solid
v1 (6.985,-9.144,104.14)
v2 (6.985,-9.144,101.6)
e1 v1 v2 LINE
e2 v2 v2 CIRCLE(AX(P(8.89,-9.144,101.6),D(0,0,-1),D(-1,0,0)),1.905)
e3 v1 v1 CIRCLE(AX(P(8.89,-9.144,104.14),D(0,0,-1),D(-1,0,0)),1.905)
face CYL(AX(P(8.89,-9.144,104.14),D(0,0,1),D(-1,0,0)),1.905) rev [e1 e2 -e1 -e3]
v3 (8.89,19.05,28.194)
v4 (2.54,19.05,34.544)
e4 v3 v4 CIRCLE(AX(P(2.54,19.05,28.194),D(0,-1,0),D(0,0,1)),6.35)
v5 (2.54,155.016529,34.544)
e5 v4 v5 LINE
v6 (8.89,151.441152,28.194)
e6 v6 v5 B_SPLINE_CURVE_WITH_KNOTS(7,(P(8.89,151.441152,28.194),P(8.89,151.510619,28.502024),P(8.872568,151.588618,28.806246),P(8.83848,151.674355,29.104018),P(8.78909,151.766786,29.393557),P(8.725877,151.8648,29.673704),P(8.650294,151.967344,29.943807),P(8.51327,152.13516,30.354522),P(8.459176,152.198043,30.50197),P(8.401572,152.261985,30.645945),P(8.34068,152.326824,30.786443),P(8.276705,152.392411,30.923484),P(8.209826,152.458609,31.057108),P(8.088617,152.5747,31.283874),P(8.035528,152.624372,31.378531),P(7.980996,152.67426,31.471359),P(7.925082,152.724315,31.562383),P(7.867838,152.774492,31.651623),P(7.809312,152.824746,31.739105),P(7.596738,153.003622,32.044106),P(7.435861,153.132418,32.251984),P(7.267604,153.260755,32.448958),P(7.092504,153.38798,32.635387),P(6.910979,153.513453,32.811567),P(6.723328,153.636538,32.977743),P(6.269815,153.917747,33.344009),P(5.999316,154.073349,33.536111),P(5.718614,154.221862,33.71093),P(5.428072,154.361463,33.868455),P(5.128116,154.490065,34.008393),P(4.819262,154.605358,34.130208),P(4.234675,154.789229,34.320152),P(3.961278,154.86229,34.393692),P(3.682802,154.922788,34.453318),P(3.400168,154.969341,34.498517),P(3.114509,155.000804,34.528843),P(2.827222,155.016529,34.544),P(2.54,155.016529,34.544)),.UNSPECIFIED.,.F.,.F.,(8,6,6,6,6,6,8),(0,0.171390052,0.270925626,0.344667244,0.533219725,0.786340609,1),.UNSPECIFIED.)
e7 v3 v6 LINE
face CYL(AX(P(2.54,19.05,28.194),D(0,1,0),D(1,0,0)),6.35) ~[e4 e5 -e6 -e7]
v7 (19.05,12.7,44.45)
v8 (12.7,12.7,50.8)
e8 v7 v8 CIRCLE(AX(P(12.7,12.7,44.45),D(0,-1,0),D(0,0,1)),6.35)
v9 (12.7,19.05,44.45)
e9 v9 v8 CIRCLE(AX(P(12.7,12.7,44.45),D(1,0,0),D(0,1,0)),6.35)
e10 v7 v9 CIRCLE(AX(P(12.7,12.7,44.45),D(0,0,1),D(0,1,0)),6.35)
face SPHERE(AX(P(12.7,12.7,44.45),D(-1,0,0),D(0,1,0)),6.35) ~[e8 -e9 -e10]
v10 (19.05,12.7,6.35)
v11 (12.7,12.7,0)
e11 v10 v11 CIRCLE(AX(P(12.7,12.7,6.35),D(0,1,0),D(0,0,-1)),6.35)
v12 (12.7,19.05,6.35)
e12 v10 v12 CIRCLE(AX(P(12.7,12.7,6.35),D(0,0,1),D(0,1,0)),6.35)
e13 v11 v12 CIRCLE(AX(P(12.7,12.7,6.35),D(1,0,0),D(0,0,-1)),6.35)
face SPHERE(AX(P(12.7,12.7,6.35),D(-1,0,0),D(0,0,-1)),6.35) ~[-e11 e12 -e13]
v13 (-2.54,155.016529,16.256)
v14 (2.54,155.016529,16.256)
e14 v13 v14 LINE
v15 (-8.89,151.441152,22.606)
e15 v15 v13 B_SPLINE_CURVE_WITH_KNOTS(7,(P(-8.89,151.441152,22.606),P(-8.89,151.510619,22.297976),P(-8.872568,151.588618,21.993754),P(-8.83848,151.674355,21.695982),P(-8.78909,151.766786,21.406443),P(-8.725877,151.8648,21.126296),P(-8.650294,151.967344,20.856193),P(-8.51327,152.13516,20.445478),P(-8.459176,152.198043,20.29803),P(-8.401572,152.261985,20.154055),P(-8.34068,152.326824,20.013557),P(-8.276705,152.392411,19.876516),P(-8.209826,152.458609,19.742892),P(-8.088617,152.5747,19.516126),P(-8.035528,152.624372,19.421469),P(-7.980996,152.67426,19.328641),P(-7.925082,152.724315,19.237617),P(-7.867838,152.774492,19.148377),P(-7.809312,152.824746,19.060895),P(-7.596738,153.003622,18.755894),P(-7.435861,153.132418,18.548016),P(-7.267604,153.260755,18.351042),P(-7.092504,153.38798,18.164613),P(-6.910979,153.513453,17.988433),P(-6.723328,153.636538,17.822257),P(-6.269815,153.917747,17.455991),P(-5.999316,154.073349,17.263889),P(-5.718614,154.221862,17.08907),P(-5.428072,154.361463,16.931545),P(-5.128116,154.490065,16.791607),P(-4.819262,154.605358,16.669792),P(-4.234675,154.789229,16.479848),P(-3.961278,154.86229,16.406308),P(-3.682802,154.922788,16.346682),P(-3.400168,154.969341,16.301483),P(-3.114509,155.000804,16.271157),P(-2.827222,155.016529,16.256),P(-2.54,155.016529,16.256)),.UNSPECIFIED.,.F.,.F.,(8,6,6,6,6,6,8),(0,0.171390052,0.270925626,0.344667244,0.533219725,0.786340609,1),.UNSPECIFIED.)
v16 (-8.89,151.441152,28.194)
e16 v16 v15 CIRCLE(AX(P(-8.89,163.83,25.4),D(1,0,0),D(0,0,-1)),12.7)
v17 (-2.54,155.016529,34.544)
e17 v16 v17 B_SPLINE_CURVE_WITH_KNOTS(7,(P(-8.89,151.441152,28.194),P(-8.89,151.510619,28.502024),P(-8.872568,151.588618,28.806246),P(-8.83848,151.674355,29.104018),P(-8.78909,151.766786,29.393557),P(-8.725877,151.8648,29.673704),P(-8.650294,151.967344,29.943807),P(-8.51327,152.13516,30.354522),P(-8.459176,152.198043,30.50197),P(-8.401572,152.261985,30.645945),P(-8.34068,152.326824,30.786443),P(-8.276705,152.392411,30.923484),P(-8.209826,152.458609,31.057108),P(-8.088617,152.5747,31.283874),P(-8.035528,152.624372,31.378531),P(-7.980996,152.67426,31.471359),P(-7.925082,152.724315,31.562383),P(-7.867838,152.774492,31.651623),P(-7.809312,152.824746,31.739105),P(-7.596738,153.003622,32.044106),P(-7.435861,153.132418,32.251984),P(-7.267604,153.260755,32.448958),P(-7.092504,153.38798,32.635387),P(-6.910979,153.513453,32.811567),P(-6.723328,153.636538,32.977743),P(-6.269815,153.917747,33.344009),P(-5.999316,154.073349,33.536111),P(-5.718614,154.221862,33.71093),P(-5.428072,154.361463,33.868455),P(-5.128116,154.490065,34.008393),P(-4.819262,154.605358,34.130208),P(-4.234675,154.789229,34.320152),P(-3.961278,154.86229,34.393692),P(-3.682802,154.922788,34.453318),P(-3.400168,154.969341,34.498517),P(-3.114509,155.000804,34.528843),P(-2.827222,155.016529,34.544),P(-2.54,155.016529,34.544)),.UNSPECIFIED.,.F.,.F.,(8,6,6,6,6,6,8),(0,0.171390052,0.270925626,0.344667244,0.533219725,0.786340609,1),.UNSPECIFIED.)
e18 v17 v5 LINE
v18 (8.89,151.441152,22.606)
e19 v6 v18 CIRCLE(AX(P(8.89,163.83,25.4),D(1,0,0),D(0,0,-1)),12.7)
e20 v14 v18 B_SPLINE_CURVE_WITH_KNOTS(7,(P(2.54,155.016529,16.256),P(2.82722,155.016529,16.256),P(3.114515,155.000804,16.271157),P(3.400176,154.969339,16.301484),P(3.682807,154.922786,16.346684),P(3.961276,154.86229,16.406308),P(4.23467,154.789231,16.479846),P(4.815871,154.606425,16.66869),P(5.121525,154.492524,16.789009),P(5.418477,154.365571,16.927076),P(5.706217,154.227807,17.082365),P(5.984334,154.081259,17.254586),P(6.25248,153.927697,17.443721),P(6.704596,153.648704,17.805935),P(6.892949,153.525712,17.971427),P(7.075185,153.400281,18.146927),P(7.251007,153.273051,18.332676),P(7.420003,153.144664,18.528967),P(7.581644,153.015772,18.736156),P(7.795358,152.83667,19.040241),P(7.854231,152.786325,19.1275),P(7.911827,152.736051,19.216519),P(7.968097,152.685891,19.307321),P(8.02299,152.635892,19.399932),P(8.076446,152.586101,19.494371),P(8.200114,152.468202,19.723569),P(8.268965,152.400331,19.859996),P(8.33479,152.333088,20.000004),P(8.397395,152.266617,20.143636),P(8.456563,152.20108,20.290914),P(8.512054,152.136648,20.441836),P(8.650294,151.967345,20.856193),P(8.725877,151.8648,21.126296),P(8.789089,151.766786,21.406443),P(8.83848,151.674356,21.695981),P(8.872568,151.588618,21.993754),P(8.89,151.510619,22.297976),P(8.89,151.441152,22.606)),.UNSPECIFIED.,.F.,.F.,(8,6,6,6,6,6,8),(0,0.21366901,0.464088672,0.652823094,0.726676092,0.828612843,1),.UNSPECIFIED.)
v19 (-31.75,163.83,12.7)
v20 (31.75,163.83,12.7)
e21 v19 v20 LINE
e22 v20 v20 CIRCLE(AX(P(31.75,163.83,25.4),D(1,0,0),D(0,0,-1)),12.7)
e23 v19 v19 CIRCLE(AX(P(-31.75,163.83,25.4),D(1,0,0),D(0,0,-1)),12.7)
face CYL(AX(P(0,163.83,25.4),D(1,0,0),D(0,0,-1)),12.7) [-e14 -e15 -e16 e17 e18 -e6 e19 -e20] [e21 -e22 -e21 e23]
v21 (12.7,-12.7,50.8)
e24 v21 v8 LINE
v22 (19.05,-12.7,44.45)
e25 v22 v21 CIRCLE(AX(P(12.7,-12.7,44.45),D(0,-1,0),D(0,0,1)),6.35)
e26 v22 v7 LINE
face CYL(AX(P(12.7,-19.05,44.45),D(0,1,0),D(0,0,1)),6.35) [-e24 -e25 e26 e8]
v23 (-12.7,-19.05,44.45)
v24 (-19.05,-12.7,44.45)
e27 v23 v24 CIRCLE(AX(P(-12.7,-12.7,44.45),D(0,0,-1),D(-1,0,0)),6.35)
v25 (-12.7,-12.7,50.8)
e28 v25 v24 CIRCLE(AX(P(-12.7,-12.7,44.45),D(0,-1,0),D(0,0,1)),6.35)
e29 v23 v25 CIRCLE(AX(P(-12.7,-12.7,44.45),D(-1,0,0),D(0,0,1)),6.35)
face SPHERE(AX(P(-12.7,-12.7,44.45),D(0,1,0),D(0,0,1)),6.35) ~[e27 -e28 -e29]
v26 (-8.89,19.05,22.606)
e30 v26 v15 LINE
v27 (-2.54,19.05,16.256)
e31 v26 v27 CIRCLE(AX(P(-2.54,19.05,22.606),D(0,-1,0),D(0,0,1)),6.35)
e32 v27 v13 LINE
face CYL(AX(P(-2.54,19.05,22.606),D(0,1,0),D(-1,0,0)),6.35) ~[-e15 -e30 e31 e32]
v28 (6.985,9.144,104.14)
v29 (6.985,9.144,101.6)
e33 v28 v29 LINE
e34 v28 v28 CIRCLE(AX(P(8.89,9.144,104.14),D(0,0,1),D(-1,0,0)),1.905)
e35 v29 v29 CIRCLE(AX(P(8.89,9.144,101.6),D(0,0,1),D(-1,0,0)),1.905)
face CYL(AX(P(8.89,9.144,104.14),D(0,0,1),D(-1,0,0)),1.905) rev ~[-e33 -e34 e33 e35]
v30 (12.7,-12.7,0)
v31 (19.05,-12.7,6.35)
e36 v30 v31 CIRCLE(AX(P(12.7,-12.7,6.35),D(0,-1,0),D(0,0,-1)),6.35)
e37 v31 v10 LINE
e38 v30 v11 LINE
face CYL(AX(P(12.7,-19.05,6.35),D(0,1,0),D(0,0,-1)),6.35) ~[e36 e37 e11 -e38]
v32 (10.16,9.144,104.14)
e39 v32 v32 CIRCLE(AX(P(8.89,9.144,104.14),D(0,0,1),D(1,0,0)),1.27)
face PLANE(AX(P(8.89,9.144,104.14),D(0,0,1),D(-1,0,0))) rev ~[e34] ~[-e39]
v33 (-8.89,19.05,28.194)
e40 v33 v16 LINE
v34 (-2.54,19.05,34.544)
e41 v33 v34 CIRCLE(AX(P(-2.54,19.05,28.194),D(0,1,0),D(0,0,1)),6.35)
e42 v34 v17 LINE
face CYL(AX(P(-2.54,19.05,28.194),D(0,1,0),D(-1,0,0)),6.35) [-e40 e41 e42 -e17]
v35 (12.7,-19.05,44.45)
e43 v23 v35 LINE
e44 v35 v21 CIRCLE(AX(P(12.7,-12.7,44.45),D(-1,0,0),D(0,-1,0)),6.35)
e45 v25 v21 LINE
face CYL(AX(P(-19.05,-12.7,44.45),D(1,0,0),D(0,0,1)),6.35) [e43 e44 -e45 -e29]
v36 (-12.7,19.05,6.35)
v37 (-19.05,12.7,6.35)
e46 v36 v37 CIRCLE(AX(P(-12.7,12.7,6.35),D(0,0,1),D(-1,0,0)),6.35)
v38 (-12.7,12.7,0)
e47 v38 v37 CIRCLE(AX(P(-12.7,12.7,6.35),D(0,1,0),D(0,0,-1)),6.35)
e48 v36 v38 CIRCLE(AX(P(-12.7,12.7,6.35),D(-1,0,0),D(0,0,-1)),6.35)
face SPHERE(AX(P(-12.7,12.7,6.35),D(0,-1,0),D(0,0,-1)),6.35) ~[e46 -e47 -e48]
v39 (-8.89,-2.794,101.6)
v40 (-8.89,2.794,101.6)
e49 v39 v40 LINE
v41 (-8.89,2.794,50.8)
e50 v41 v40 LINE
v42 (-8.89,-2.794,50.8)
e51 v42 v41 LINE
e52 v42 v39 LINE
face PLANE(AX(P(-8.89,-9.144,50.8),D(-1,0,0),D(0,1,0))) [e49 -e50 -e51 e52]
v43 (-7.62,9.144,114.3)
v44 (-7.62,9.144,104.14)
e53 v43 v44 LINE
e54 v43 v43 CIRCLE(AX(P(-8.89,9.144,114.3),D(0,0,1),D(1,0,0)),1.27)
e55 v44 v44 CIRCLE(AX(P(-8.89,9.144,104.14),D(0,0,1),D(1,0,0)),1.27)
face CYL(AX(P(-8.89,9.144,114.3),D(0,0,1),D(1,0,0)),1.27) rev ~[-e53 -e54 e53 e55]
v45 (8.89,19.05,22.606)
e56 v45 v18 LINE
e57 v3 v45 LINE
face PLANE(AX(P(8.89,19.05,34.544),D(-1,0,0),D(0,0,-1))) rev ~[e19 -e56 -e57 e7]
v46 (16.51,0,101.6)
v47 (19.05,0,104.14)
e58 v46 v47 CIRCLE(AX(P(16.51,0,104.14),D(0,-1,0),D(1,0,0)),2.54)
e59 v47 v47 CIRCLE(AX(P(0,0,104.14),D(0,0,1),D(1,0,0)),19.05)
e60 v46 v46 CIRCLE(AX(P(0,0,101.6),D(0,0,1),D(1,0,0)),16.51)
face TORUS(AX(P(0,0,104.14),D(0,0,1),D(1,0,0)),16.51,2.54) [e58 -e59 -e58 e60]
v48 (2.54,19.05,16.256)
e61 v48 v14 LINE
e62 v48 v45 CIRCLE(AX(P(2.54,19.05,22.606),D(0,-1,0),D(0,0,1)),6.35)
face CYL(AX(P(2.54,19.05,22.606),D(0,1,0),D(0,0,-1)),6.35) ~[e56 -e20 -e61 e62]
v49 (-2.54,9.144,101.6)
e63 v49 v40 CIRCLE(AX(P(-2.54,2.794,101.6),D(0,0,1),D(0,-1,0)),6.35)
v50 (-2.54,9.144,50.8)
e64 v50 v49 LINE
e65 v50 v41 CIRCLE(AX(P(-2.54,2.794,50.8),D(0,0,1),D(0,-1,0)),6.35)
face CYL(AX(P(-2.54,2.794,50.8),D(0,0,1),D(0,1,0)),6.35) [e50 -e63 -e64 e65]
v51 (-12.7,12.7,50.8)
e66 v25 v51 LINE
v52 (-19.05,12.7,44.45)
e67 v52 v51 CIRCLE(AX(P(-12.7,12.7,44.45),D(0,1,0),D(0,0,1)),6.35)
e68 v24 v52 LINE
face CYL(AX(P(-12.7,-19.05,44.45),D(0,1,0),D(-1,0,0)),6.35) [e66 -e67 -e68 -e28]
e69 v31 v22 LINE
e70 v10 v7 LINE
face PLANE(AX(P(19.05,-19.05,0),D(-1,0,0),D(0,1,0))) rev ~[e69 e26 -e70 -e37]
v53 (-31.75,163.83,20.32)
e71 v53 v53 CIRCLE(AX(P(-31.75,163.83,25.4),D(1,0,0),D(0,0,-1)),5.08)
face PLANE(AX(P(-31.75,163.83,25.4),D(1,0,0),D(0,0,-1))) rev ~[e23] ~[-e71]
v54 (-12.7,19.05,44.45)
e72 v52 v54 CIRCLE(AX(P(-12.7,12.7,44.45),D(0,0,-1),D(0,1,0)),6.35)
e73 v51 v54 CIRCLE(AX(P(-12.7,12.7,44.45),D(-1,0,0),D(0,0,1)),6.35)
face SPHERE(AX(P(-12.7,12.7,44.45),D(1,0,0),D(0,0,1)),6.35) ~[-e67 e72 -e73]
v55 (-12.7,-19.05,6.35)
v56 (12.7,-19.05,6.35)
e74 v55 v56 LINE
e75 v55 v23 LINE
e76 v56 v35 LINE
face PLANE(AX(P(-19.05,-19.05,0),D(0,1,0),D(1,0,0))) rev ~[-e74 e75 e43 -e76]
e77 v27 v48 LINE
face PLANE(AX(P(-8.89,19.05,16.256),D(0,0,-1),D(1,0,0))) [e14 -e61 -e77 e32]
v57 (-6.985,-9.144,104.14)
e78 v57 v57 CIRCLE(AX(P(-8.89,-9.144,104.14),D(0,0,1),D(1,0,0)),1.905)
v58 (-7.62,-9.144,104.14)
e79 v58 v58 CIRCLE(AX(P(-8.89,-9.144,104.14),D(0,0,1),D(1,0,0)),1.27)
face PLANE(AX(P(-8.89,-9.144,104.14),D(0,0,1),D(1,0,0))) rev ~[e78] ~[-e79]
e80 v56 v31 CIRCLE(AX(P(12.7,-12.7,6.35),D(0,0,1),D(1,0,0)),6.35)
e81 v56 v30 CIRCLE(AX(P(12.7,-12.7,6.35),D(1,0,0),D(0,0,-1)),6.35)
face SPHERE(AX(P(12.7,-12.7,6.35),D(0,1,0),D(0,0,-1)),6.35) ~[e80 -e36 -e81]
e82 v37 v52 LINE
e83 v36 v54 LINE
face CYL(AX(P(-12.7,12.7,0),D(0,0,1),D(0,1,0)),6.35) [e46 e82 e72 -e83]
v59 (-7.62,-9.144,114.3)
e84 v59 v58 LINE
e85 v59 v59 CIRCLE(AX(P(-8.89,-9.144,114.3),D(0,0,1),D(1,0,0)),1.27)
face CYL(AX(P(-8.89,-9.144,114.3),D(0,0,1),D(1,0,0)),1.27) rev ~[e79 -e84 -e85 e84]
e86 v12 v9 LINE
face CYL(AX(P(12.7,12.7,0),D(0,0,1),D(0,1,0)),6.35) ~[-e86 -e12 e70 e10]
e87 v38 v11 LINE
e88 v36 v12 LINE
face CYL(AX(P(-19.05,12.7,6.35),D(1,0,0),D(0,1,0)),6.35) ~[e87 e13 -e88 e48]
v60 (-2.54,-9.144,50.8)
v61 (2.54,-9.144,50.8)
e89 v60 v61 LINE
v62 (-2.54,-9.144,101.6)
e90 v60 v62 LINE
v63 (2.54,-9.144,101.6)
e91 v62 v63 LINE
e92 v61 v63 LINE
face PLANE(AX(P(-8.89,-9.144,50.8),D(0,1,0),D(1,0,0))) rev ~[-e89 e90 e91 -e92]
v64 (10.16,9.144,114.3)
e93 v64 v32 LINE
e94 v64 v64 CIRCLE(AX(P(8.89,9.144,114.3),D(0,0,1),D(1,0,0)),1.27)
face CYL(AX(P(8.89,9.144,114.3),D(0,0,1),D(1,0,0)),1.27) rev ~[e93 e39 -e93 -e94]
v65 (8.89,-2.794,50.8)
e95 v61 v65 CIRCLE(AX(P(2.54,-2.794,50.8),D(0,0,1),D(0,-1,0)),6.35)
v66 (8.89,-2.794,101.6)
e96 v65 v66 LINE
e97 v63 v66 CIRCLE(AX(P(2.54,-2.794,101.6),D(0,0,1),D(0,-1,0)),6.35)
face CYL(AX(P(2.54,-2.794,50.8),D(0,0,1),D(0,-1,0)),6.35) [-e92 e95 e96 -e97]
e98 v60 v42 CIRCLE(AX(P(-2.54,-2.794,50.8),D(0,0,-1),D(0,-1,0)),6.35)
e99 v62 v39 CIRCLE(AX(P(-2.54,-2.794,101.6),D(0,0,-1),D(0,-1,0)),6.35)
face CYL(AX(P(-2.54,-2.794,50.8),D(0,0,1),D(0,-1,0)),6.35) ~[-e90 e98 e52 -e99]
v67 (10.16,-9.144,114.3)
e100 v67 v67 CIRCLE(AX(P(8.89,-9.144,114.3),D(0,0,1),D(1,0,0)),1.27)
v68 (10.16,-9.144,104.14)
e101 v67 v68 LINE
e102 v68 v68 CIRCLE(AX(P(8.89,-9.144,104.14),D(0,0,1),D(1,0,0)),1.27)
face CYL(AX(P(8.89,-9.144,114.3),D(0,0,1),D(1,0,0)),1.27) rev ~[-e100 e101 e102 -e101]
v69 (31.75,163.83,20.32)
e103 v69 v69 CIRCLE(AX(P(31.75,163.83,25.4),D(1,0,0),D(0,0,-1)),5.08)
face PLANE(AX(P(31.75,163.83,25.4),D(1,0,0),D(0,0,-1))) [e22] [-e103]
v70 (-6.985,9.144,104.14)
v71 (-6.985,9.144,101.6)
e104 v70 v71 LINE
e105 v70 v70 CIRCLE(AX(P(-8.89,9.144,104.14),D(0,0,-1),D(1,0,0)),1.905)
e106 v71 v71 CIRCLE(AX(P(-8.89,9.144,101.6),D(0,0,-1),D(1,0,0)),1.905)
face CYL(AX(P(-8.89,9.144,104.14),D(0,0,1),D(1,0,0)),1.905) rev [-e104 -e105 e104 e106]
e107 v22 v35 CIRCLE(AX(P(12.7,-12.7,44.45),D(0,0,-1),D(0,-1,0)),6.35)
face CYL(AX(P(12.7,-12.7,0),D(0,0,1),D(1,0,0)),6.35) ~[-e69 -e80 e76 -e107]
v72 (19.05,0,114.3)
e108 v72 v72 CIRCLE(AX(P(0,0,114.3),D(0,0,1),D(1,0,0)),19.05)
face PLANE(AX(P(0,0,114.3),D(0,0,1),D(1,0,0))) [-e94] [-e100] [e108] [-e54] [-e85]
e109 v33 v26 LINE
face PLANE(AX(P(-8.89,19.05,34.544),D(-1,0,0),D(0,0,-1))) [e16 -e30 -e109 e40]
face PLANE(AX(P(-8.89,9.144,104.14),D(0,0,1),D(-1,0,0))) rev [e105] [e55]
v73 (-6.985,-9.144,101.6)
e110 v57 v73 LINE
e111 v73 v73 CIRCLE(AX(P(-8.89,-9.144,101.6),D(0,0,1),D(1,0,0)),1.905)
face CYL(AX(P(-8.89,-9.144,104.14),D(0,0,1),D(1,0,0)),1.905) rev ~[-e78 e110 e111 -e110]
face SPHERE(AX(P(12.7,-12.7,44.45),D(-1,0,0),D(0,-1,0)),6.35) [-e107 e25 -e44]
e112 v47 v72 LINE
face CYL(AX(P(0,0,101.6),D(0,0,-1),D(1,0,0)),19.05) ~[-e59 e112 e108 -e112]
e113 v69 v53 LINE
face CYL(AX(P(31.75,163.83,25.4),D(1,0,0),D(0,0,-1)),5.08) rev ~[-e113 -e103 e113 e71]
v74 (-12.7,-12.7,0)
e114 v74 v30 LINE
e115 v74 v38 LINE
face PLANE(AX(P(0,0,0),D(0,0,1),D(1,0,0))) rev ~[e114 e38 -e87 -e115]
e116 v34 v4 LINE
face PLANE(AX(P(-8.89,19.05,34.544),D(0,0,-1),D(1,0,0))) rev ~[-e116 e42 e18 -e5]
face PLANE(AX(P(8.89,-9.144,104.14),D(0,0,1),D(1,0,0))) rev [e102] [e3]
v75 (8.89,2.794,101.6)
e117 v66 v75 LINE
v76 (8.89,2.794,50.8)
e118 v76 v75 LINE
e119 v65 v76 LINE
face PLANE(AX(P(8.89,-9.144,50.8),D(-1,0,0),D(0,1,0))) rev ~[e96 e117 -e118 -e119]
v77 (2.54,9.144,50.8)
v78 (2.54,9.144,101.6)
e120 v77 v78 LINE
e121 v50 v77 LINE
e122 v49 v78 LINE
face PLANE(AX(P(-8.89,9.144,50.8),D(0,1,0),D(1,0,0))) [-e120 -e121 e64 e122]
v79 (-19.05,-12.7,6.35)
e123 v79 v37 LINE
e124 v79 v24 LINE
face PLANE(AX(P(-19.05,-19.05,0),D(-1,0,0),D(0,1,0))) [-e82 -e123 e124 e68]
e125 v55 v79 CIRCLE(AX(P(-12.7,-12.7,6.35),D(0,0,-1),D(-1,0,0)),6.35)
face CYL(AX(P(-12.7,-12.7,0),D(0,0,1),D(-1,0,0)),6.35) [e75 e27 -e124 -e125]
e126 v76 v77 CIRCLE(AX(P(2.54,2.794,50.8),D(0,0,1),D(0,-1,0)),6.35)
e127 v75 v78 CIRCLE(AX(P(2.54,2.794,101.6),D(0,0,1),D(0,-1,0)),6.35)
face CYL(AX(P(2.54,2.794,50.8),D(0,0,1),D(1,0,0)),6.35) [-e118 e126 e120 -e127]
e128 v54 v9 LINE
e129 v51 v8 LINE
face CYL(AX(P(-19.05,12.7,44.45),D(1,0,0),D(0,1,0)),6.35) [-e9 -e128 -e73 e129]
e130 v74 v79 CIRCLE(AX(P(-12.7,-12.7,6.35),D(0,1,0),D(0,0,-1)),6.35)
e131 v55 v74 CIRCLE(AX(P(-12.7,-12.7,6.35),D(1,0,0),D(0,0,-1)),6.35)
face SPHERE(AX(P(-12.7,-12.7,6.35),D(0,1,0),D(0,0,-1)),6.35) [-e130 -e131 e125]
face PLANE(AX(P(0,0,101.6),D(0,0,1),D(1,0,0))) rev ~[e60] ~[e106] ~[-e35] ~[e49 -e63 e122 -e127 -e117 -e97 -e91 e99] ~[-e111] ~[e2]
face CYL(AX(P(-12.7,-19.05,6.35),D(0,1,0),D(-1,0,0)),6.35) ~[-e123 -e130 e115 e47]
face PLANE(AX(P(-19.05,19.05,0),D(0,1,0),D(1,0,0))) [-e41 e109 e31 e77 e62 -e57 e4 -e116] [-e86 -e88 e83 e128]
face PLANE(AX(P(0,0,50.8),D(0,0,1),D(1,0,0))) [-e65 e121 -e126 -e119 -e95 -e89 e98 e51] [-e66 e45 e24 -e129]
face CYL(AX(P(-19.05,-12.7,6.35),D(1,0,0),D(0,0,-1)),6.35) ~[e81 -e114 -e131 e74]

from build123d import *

# Parameters (mm, degrees)
SKETCH1_W               = 38.1
SKETCH1_H               = 38.1
BOSS_EXTRUDE1_DEPTH     = 50.8
SKETCH2_W               = 17.78
SKETCH2_H               = 18.288
BOSS_EXTRUDE2_DEPTH     = 50.8
SKETCH3_R               = 19.05
BOSS_EXTRUDE3_DEPTH     = 12.7
SKETCH4_W               = 17.78
SKETCH4_H               = 18.288
BOSS_EXTRUDE4_DEPTH     = 137.16
SKETCH6_R               = 12.7
BOSS_EXTRUDE5_DEPTH     = 31.75
SKETCH7_R               = 5.08
CUT_EXTRUDE1_DEPTH      = 63.5
SKETCH8_R               = 1.27
CUT_EXTRUDE2_DEPTH      = 10.16
SKETCH8_3_R             = 1.27
CUT_EXTRUDE3_DEPTH      = 10.16
SKETCH8_4_R             = 1.27
CUT_EXTRUDE4_DEPTH      = 10.16
SKETCH8_5_R             = 1.27
CUT_EXTRUDE5_DEPTH      = 10.16
FILLET1_R               = 6.35
SKETCH10_R              = 1.905
CUT_EXTRUDE6_DEPTH      = 2.54
MIRROR2_COPY_1_SKETCH_R = 1.905
MIRROR2_COPY_1_DEPTH    = 2.54
MIRROR2_COPY_2_SKETCH_R = 1.905
MIRROR2_COPY_2_DEPTH    = 2.54
FILLET2_R               = 2.54


with BuildPart() as part:
    # Sketch1 → Boss-Extrude1 (new body)
    with BuildSketch(Plane.XY):
        Rectangle(SKETCH1_W, SKETCH1_H)
    extrude(amount=BOSS_EXTRUDE1_DEPTH)

    # Sketch2 → Boss-Extrude2 (add)
    with BuildSketch(Plane.XY.offset(50.8)):
        Rectangle(SKETCH2_W, SKETCH2_H)
    extrude(amount=BOSS_EXTRUDE2_DEPTH)

    # Sketch3 → Boss-Extrude3 (add)
    with BuildSketch(Plane.XY.offset(101.6)):
        Circle(SKETCH3_R)
    extrude(amount=BOSS_EXTRUDE3_DEPTH)

    # Sketch4 → Boss-Extrude4 (add)
    with BuildSketch(Plane(origin=(0, 19.05, 0), x_dir=(1, 0, 0), z_dir=(0, 1, 0))):
        with Locations((0, -25.4)):
            Rectangle(SKETCH4_W, SKETCH4_H)
    extrude(amount=BOSS_EXTRUDE4_DEPTH)

    # Sketch6 → Boss-Extrude5 (add, symmetric)
    with BuildSketch(Plane(origin=(0, 0, 0), x_dir=(0, 0, -1), z_dir=(1, 0, 0))):
        with Locations((-25.4, 163.83)):
            Circle(SKETCH6_R)
    extrude(amount=BOSS_EXTRUDE5_DEPTH, both=True)

    # Sketch7 → Cut-Extrude1 (cut)
    with BuildSketch(Plane(origin=(31.75, 0, 0), x_dir=(0, 0, -1), z_dir=(1, 0, 0))):
        with Locations((-25.4, 163.83)):
            Circle(SKETCH7_R)
    extrude(amount=-CUT_EXTRUDE1_DEPTH, mode=Mode.SUBTRACT)

    # Sketch8 → Cut-Extrude2 (cut)
    with BuildSketch(Plane.XY.offset(114.3)):
        with Locations((8.89, 9.144)):
            Circle(SKETCH8_R)
    extrude(amount=-CUT_EXTRUDE2_DEPTH, mode=Mode.SUBTRACT)

    # Sketch8<3> → Cut-Extrude3 (cut)
    with BuildSketch(Plane.XY.offset(114.3)):
        with Locations((8.89, -9.144)):
            Circle(SKETCH8_3_R)
    extrude(amount=-CUT_EXTRUDE3_DEPTH, mode=Mode.SUBTRACT)

    # Sketch8<4> → Cut-Extrude4 (cut)
    with BuildSketch(Plane.XY.offset(114.3)):
        with Locations((-8.89, -9.144)):
            Circle(SKETCH8_4_R)
    extrude(amount=-CUT_EXTRUDE4_DEPTH, mode=Mode.SUBTRACT)

    # Sketch8<5> → Cut-Extrude5 (cut)
    with BuildSketch(Plane.XY.offset(114.3)):
        with Locations((-8.89, 9.144)):
            Circle(SKETCH8_5_R)
    extrude(amount=-CUT_EXTRUDE5_DEPTH, mode=Mode.SUBTRACT)

    # Fillet1
    fillet1_edges = [part.edges().sort_by_distance(p)[0] for p in [
        (-19.05, 19.05, 25.4),
        (-19.05, 0, 50.8),
        (-19.05, -19.05, 25.4),
        (-19.05, 0, 0),
        (8.89, -9.144, 76.2),
        (8.89, 9.144, 76.2),
        (-8.89, -9.144, 76.2),
        (0, 19.05, 50.8),
        (-8.89, 9.144, 76.2),
        (0, -19.05, 0),
        (0, 19.05, 0),
        (19.05, 19.05, 25.4),
        (19.05, 0, 0),
        (19.05, -19.05, 25.4),
        (0, -19.05, 50.8),
        (19.05, 0, 50.8),
        (-8.89, 87.0332647, 34.544),
        (-8.89, 87.0332647, 16.256),
        (8.89, 87.0332647, 16.256),
        (8.89, 87.0332647, 34.544),
    ]]
    fillet(fillet1_edges, radius=FILLET1_R)

    # Sketch10 → Cut-Extrude6 (cut)
    with BuildSketch(Plane.XY.offset(104.14)):
        with Locations((-8.89, -9.144)):
            Circle(SKETCH10_R)
    cut_extrude6 = extrude(amount=-CUT_EXTRUDE6_DEPTH, mode=Mode.SUBTRACT)

    # Mirror1: Cut-Extrude6 across plane
    add(cut_extrude6.mirror(Plane.ZX), mode=Mode.SUBTRACT)

    # Mirror2 copy 1 sketch → Mirror2 copy 1 (cut)
    with BuildSketch(Plane(origin=(0, 0, 104.14), x_dir=(-1, 0, 0), z_dir=(0, 0, 1))):
        with Locations((-8.89, -9.144)):
            Circle(MIRROR2_COPY_1_SKETCH_R)
    extrude(amount=-MIRROR2_COPY_1_DEPTH, mode=Mode.SUBTRACT)

    # Mirror2 copy 2 sketch → Mirror2 copy 2 (cut)
    with BuildSketch(Plane(origin=(0, 0, 104.14), x_dir=(-1, 0, 0), z_dir=(0, 0, 1))):
        with Locations((-8.89, 9.144)):
            Circle(MIRROR2_COPY_2_SKETCH_R)
    extrude(amount=-MIRROR2_COPY_2_DEPTH, mode=Mode.SUBTRACT)

    # Fillet2
    fillet2_edges = [part.edges().sort_by_distance(p)[0] for p in [
        (-19.05, 0, 101.6),
    ]]
    fillet(fillet2_edges, radius=FILLET2_R)


solid = part.part
